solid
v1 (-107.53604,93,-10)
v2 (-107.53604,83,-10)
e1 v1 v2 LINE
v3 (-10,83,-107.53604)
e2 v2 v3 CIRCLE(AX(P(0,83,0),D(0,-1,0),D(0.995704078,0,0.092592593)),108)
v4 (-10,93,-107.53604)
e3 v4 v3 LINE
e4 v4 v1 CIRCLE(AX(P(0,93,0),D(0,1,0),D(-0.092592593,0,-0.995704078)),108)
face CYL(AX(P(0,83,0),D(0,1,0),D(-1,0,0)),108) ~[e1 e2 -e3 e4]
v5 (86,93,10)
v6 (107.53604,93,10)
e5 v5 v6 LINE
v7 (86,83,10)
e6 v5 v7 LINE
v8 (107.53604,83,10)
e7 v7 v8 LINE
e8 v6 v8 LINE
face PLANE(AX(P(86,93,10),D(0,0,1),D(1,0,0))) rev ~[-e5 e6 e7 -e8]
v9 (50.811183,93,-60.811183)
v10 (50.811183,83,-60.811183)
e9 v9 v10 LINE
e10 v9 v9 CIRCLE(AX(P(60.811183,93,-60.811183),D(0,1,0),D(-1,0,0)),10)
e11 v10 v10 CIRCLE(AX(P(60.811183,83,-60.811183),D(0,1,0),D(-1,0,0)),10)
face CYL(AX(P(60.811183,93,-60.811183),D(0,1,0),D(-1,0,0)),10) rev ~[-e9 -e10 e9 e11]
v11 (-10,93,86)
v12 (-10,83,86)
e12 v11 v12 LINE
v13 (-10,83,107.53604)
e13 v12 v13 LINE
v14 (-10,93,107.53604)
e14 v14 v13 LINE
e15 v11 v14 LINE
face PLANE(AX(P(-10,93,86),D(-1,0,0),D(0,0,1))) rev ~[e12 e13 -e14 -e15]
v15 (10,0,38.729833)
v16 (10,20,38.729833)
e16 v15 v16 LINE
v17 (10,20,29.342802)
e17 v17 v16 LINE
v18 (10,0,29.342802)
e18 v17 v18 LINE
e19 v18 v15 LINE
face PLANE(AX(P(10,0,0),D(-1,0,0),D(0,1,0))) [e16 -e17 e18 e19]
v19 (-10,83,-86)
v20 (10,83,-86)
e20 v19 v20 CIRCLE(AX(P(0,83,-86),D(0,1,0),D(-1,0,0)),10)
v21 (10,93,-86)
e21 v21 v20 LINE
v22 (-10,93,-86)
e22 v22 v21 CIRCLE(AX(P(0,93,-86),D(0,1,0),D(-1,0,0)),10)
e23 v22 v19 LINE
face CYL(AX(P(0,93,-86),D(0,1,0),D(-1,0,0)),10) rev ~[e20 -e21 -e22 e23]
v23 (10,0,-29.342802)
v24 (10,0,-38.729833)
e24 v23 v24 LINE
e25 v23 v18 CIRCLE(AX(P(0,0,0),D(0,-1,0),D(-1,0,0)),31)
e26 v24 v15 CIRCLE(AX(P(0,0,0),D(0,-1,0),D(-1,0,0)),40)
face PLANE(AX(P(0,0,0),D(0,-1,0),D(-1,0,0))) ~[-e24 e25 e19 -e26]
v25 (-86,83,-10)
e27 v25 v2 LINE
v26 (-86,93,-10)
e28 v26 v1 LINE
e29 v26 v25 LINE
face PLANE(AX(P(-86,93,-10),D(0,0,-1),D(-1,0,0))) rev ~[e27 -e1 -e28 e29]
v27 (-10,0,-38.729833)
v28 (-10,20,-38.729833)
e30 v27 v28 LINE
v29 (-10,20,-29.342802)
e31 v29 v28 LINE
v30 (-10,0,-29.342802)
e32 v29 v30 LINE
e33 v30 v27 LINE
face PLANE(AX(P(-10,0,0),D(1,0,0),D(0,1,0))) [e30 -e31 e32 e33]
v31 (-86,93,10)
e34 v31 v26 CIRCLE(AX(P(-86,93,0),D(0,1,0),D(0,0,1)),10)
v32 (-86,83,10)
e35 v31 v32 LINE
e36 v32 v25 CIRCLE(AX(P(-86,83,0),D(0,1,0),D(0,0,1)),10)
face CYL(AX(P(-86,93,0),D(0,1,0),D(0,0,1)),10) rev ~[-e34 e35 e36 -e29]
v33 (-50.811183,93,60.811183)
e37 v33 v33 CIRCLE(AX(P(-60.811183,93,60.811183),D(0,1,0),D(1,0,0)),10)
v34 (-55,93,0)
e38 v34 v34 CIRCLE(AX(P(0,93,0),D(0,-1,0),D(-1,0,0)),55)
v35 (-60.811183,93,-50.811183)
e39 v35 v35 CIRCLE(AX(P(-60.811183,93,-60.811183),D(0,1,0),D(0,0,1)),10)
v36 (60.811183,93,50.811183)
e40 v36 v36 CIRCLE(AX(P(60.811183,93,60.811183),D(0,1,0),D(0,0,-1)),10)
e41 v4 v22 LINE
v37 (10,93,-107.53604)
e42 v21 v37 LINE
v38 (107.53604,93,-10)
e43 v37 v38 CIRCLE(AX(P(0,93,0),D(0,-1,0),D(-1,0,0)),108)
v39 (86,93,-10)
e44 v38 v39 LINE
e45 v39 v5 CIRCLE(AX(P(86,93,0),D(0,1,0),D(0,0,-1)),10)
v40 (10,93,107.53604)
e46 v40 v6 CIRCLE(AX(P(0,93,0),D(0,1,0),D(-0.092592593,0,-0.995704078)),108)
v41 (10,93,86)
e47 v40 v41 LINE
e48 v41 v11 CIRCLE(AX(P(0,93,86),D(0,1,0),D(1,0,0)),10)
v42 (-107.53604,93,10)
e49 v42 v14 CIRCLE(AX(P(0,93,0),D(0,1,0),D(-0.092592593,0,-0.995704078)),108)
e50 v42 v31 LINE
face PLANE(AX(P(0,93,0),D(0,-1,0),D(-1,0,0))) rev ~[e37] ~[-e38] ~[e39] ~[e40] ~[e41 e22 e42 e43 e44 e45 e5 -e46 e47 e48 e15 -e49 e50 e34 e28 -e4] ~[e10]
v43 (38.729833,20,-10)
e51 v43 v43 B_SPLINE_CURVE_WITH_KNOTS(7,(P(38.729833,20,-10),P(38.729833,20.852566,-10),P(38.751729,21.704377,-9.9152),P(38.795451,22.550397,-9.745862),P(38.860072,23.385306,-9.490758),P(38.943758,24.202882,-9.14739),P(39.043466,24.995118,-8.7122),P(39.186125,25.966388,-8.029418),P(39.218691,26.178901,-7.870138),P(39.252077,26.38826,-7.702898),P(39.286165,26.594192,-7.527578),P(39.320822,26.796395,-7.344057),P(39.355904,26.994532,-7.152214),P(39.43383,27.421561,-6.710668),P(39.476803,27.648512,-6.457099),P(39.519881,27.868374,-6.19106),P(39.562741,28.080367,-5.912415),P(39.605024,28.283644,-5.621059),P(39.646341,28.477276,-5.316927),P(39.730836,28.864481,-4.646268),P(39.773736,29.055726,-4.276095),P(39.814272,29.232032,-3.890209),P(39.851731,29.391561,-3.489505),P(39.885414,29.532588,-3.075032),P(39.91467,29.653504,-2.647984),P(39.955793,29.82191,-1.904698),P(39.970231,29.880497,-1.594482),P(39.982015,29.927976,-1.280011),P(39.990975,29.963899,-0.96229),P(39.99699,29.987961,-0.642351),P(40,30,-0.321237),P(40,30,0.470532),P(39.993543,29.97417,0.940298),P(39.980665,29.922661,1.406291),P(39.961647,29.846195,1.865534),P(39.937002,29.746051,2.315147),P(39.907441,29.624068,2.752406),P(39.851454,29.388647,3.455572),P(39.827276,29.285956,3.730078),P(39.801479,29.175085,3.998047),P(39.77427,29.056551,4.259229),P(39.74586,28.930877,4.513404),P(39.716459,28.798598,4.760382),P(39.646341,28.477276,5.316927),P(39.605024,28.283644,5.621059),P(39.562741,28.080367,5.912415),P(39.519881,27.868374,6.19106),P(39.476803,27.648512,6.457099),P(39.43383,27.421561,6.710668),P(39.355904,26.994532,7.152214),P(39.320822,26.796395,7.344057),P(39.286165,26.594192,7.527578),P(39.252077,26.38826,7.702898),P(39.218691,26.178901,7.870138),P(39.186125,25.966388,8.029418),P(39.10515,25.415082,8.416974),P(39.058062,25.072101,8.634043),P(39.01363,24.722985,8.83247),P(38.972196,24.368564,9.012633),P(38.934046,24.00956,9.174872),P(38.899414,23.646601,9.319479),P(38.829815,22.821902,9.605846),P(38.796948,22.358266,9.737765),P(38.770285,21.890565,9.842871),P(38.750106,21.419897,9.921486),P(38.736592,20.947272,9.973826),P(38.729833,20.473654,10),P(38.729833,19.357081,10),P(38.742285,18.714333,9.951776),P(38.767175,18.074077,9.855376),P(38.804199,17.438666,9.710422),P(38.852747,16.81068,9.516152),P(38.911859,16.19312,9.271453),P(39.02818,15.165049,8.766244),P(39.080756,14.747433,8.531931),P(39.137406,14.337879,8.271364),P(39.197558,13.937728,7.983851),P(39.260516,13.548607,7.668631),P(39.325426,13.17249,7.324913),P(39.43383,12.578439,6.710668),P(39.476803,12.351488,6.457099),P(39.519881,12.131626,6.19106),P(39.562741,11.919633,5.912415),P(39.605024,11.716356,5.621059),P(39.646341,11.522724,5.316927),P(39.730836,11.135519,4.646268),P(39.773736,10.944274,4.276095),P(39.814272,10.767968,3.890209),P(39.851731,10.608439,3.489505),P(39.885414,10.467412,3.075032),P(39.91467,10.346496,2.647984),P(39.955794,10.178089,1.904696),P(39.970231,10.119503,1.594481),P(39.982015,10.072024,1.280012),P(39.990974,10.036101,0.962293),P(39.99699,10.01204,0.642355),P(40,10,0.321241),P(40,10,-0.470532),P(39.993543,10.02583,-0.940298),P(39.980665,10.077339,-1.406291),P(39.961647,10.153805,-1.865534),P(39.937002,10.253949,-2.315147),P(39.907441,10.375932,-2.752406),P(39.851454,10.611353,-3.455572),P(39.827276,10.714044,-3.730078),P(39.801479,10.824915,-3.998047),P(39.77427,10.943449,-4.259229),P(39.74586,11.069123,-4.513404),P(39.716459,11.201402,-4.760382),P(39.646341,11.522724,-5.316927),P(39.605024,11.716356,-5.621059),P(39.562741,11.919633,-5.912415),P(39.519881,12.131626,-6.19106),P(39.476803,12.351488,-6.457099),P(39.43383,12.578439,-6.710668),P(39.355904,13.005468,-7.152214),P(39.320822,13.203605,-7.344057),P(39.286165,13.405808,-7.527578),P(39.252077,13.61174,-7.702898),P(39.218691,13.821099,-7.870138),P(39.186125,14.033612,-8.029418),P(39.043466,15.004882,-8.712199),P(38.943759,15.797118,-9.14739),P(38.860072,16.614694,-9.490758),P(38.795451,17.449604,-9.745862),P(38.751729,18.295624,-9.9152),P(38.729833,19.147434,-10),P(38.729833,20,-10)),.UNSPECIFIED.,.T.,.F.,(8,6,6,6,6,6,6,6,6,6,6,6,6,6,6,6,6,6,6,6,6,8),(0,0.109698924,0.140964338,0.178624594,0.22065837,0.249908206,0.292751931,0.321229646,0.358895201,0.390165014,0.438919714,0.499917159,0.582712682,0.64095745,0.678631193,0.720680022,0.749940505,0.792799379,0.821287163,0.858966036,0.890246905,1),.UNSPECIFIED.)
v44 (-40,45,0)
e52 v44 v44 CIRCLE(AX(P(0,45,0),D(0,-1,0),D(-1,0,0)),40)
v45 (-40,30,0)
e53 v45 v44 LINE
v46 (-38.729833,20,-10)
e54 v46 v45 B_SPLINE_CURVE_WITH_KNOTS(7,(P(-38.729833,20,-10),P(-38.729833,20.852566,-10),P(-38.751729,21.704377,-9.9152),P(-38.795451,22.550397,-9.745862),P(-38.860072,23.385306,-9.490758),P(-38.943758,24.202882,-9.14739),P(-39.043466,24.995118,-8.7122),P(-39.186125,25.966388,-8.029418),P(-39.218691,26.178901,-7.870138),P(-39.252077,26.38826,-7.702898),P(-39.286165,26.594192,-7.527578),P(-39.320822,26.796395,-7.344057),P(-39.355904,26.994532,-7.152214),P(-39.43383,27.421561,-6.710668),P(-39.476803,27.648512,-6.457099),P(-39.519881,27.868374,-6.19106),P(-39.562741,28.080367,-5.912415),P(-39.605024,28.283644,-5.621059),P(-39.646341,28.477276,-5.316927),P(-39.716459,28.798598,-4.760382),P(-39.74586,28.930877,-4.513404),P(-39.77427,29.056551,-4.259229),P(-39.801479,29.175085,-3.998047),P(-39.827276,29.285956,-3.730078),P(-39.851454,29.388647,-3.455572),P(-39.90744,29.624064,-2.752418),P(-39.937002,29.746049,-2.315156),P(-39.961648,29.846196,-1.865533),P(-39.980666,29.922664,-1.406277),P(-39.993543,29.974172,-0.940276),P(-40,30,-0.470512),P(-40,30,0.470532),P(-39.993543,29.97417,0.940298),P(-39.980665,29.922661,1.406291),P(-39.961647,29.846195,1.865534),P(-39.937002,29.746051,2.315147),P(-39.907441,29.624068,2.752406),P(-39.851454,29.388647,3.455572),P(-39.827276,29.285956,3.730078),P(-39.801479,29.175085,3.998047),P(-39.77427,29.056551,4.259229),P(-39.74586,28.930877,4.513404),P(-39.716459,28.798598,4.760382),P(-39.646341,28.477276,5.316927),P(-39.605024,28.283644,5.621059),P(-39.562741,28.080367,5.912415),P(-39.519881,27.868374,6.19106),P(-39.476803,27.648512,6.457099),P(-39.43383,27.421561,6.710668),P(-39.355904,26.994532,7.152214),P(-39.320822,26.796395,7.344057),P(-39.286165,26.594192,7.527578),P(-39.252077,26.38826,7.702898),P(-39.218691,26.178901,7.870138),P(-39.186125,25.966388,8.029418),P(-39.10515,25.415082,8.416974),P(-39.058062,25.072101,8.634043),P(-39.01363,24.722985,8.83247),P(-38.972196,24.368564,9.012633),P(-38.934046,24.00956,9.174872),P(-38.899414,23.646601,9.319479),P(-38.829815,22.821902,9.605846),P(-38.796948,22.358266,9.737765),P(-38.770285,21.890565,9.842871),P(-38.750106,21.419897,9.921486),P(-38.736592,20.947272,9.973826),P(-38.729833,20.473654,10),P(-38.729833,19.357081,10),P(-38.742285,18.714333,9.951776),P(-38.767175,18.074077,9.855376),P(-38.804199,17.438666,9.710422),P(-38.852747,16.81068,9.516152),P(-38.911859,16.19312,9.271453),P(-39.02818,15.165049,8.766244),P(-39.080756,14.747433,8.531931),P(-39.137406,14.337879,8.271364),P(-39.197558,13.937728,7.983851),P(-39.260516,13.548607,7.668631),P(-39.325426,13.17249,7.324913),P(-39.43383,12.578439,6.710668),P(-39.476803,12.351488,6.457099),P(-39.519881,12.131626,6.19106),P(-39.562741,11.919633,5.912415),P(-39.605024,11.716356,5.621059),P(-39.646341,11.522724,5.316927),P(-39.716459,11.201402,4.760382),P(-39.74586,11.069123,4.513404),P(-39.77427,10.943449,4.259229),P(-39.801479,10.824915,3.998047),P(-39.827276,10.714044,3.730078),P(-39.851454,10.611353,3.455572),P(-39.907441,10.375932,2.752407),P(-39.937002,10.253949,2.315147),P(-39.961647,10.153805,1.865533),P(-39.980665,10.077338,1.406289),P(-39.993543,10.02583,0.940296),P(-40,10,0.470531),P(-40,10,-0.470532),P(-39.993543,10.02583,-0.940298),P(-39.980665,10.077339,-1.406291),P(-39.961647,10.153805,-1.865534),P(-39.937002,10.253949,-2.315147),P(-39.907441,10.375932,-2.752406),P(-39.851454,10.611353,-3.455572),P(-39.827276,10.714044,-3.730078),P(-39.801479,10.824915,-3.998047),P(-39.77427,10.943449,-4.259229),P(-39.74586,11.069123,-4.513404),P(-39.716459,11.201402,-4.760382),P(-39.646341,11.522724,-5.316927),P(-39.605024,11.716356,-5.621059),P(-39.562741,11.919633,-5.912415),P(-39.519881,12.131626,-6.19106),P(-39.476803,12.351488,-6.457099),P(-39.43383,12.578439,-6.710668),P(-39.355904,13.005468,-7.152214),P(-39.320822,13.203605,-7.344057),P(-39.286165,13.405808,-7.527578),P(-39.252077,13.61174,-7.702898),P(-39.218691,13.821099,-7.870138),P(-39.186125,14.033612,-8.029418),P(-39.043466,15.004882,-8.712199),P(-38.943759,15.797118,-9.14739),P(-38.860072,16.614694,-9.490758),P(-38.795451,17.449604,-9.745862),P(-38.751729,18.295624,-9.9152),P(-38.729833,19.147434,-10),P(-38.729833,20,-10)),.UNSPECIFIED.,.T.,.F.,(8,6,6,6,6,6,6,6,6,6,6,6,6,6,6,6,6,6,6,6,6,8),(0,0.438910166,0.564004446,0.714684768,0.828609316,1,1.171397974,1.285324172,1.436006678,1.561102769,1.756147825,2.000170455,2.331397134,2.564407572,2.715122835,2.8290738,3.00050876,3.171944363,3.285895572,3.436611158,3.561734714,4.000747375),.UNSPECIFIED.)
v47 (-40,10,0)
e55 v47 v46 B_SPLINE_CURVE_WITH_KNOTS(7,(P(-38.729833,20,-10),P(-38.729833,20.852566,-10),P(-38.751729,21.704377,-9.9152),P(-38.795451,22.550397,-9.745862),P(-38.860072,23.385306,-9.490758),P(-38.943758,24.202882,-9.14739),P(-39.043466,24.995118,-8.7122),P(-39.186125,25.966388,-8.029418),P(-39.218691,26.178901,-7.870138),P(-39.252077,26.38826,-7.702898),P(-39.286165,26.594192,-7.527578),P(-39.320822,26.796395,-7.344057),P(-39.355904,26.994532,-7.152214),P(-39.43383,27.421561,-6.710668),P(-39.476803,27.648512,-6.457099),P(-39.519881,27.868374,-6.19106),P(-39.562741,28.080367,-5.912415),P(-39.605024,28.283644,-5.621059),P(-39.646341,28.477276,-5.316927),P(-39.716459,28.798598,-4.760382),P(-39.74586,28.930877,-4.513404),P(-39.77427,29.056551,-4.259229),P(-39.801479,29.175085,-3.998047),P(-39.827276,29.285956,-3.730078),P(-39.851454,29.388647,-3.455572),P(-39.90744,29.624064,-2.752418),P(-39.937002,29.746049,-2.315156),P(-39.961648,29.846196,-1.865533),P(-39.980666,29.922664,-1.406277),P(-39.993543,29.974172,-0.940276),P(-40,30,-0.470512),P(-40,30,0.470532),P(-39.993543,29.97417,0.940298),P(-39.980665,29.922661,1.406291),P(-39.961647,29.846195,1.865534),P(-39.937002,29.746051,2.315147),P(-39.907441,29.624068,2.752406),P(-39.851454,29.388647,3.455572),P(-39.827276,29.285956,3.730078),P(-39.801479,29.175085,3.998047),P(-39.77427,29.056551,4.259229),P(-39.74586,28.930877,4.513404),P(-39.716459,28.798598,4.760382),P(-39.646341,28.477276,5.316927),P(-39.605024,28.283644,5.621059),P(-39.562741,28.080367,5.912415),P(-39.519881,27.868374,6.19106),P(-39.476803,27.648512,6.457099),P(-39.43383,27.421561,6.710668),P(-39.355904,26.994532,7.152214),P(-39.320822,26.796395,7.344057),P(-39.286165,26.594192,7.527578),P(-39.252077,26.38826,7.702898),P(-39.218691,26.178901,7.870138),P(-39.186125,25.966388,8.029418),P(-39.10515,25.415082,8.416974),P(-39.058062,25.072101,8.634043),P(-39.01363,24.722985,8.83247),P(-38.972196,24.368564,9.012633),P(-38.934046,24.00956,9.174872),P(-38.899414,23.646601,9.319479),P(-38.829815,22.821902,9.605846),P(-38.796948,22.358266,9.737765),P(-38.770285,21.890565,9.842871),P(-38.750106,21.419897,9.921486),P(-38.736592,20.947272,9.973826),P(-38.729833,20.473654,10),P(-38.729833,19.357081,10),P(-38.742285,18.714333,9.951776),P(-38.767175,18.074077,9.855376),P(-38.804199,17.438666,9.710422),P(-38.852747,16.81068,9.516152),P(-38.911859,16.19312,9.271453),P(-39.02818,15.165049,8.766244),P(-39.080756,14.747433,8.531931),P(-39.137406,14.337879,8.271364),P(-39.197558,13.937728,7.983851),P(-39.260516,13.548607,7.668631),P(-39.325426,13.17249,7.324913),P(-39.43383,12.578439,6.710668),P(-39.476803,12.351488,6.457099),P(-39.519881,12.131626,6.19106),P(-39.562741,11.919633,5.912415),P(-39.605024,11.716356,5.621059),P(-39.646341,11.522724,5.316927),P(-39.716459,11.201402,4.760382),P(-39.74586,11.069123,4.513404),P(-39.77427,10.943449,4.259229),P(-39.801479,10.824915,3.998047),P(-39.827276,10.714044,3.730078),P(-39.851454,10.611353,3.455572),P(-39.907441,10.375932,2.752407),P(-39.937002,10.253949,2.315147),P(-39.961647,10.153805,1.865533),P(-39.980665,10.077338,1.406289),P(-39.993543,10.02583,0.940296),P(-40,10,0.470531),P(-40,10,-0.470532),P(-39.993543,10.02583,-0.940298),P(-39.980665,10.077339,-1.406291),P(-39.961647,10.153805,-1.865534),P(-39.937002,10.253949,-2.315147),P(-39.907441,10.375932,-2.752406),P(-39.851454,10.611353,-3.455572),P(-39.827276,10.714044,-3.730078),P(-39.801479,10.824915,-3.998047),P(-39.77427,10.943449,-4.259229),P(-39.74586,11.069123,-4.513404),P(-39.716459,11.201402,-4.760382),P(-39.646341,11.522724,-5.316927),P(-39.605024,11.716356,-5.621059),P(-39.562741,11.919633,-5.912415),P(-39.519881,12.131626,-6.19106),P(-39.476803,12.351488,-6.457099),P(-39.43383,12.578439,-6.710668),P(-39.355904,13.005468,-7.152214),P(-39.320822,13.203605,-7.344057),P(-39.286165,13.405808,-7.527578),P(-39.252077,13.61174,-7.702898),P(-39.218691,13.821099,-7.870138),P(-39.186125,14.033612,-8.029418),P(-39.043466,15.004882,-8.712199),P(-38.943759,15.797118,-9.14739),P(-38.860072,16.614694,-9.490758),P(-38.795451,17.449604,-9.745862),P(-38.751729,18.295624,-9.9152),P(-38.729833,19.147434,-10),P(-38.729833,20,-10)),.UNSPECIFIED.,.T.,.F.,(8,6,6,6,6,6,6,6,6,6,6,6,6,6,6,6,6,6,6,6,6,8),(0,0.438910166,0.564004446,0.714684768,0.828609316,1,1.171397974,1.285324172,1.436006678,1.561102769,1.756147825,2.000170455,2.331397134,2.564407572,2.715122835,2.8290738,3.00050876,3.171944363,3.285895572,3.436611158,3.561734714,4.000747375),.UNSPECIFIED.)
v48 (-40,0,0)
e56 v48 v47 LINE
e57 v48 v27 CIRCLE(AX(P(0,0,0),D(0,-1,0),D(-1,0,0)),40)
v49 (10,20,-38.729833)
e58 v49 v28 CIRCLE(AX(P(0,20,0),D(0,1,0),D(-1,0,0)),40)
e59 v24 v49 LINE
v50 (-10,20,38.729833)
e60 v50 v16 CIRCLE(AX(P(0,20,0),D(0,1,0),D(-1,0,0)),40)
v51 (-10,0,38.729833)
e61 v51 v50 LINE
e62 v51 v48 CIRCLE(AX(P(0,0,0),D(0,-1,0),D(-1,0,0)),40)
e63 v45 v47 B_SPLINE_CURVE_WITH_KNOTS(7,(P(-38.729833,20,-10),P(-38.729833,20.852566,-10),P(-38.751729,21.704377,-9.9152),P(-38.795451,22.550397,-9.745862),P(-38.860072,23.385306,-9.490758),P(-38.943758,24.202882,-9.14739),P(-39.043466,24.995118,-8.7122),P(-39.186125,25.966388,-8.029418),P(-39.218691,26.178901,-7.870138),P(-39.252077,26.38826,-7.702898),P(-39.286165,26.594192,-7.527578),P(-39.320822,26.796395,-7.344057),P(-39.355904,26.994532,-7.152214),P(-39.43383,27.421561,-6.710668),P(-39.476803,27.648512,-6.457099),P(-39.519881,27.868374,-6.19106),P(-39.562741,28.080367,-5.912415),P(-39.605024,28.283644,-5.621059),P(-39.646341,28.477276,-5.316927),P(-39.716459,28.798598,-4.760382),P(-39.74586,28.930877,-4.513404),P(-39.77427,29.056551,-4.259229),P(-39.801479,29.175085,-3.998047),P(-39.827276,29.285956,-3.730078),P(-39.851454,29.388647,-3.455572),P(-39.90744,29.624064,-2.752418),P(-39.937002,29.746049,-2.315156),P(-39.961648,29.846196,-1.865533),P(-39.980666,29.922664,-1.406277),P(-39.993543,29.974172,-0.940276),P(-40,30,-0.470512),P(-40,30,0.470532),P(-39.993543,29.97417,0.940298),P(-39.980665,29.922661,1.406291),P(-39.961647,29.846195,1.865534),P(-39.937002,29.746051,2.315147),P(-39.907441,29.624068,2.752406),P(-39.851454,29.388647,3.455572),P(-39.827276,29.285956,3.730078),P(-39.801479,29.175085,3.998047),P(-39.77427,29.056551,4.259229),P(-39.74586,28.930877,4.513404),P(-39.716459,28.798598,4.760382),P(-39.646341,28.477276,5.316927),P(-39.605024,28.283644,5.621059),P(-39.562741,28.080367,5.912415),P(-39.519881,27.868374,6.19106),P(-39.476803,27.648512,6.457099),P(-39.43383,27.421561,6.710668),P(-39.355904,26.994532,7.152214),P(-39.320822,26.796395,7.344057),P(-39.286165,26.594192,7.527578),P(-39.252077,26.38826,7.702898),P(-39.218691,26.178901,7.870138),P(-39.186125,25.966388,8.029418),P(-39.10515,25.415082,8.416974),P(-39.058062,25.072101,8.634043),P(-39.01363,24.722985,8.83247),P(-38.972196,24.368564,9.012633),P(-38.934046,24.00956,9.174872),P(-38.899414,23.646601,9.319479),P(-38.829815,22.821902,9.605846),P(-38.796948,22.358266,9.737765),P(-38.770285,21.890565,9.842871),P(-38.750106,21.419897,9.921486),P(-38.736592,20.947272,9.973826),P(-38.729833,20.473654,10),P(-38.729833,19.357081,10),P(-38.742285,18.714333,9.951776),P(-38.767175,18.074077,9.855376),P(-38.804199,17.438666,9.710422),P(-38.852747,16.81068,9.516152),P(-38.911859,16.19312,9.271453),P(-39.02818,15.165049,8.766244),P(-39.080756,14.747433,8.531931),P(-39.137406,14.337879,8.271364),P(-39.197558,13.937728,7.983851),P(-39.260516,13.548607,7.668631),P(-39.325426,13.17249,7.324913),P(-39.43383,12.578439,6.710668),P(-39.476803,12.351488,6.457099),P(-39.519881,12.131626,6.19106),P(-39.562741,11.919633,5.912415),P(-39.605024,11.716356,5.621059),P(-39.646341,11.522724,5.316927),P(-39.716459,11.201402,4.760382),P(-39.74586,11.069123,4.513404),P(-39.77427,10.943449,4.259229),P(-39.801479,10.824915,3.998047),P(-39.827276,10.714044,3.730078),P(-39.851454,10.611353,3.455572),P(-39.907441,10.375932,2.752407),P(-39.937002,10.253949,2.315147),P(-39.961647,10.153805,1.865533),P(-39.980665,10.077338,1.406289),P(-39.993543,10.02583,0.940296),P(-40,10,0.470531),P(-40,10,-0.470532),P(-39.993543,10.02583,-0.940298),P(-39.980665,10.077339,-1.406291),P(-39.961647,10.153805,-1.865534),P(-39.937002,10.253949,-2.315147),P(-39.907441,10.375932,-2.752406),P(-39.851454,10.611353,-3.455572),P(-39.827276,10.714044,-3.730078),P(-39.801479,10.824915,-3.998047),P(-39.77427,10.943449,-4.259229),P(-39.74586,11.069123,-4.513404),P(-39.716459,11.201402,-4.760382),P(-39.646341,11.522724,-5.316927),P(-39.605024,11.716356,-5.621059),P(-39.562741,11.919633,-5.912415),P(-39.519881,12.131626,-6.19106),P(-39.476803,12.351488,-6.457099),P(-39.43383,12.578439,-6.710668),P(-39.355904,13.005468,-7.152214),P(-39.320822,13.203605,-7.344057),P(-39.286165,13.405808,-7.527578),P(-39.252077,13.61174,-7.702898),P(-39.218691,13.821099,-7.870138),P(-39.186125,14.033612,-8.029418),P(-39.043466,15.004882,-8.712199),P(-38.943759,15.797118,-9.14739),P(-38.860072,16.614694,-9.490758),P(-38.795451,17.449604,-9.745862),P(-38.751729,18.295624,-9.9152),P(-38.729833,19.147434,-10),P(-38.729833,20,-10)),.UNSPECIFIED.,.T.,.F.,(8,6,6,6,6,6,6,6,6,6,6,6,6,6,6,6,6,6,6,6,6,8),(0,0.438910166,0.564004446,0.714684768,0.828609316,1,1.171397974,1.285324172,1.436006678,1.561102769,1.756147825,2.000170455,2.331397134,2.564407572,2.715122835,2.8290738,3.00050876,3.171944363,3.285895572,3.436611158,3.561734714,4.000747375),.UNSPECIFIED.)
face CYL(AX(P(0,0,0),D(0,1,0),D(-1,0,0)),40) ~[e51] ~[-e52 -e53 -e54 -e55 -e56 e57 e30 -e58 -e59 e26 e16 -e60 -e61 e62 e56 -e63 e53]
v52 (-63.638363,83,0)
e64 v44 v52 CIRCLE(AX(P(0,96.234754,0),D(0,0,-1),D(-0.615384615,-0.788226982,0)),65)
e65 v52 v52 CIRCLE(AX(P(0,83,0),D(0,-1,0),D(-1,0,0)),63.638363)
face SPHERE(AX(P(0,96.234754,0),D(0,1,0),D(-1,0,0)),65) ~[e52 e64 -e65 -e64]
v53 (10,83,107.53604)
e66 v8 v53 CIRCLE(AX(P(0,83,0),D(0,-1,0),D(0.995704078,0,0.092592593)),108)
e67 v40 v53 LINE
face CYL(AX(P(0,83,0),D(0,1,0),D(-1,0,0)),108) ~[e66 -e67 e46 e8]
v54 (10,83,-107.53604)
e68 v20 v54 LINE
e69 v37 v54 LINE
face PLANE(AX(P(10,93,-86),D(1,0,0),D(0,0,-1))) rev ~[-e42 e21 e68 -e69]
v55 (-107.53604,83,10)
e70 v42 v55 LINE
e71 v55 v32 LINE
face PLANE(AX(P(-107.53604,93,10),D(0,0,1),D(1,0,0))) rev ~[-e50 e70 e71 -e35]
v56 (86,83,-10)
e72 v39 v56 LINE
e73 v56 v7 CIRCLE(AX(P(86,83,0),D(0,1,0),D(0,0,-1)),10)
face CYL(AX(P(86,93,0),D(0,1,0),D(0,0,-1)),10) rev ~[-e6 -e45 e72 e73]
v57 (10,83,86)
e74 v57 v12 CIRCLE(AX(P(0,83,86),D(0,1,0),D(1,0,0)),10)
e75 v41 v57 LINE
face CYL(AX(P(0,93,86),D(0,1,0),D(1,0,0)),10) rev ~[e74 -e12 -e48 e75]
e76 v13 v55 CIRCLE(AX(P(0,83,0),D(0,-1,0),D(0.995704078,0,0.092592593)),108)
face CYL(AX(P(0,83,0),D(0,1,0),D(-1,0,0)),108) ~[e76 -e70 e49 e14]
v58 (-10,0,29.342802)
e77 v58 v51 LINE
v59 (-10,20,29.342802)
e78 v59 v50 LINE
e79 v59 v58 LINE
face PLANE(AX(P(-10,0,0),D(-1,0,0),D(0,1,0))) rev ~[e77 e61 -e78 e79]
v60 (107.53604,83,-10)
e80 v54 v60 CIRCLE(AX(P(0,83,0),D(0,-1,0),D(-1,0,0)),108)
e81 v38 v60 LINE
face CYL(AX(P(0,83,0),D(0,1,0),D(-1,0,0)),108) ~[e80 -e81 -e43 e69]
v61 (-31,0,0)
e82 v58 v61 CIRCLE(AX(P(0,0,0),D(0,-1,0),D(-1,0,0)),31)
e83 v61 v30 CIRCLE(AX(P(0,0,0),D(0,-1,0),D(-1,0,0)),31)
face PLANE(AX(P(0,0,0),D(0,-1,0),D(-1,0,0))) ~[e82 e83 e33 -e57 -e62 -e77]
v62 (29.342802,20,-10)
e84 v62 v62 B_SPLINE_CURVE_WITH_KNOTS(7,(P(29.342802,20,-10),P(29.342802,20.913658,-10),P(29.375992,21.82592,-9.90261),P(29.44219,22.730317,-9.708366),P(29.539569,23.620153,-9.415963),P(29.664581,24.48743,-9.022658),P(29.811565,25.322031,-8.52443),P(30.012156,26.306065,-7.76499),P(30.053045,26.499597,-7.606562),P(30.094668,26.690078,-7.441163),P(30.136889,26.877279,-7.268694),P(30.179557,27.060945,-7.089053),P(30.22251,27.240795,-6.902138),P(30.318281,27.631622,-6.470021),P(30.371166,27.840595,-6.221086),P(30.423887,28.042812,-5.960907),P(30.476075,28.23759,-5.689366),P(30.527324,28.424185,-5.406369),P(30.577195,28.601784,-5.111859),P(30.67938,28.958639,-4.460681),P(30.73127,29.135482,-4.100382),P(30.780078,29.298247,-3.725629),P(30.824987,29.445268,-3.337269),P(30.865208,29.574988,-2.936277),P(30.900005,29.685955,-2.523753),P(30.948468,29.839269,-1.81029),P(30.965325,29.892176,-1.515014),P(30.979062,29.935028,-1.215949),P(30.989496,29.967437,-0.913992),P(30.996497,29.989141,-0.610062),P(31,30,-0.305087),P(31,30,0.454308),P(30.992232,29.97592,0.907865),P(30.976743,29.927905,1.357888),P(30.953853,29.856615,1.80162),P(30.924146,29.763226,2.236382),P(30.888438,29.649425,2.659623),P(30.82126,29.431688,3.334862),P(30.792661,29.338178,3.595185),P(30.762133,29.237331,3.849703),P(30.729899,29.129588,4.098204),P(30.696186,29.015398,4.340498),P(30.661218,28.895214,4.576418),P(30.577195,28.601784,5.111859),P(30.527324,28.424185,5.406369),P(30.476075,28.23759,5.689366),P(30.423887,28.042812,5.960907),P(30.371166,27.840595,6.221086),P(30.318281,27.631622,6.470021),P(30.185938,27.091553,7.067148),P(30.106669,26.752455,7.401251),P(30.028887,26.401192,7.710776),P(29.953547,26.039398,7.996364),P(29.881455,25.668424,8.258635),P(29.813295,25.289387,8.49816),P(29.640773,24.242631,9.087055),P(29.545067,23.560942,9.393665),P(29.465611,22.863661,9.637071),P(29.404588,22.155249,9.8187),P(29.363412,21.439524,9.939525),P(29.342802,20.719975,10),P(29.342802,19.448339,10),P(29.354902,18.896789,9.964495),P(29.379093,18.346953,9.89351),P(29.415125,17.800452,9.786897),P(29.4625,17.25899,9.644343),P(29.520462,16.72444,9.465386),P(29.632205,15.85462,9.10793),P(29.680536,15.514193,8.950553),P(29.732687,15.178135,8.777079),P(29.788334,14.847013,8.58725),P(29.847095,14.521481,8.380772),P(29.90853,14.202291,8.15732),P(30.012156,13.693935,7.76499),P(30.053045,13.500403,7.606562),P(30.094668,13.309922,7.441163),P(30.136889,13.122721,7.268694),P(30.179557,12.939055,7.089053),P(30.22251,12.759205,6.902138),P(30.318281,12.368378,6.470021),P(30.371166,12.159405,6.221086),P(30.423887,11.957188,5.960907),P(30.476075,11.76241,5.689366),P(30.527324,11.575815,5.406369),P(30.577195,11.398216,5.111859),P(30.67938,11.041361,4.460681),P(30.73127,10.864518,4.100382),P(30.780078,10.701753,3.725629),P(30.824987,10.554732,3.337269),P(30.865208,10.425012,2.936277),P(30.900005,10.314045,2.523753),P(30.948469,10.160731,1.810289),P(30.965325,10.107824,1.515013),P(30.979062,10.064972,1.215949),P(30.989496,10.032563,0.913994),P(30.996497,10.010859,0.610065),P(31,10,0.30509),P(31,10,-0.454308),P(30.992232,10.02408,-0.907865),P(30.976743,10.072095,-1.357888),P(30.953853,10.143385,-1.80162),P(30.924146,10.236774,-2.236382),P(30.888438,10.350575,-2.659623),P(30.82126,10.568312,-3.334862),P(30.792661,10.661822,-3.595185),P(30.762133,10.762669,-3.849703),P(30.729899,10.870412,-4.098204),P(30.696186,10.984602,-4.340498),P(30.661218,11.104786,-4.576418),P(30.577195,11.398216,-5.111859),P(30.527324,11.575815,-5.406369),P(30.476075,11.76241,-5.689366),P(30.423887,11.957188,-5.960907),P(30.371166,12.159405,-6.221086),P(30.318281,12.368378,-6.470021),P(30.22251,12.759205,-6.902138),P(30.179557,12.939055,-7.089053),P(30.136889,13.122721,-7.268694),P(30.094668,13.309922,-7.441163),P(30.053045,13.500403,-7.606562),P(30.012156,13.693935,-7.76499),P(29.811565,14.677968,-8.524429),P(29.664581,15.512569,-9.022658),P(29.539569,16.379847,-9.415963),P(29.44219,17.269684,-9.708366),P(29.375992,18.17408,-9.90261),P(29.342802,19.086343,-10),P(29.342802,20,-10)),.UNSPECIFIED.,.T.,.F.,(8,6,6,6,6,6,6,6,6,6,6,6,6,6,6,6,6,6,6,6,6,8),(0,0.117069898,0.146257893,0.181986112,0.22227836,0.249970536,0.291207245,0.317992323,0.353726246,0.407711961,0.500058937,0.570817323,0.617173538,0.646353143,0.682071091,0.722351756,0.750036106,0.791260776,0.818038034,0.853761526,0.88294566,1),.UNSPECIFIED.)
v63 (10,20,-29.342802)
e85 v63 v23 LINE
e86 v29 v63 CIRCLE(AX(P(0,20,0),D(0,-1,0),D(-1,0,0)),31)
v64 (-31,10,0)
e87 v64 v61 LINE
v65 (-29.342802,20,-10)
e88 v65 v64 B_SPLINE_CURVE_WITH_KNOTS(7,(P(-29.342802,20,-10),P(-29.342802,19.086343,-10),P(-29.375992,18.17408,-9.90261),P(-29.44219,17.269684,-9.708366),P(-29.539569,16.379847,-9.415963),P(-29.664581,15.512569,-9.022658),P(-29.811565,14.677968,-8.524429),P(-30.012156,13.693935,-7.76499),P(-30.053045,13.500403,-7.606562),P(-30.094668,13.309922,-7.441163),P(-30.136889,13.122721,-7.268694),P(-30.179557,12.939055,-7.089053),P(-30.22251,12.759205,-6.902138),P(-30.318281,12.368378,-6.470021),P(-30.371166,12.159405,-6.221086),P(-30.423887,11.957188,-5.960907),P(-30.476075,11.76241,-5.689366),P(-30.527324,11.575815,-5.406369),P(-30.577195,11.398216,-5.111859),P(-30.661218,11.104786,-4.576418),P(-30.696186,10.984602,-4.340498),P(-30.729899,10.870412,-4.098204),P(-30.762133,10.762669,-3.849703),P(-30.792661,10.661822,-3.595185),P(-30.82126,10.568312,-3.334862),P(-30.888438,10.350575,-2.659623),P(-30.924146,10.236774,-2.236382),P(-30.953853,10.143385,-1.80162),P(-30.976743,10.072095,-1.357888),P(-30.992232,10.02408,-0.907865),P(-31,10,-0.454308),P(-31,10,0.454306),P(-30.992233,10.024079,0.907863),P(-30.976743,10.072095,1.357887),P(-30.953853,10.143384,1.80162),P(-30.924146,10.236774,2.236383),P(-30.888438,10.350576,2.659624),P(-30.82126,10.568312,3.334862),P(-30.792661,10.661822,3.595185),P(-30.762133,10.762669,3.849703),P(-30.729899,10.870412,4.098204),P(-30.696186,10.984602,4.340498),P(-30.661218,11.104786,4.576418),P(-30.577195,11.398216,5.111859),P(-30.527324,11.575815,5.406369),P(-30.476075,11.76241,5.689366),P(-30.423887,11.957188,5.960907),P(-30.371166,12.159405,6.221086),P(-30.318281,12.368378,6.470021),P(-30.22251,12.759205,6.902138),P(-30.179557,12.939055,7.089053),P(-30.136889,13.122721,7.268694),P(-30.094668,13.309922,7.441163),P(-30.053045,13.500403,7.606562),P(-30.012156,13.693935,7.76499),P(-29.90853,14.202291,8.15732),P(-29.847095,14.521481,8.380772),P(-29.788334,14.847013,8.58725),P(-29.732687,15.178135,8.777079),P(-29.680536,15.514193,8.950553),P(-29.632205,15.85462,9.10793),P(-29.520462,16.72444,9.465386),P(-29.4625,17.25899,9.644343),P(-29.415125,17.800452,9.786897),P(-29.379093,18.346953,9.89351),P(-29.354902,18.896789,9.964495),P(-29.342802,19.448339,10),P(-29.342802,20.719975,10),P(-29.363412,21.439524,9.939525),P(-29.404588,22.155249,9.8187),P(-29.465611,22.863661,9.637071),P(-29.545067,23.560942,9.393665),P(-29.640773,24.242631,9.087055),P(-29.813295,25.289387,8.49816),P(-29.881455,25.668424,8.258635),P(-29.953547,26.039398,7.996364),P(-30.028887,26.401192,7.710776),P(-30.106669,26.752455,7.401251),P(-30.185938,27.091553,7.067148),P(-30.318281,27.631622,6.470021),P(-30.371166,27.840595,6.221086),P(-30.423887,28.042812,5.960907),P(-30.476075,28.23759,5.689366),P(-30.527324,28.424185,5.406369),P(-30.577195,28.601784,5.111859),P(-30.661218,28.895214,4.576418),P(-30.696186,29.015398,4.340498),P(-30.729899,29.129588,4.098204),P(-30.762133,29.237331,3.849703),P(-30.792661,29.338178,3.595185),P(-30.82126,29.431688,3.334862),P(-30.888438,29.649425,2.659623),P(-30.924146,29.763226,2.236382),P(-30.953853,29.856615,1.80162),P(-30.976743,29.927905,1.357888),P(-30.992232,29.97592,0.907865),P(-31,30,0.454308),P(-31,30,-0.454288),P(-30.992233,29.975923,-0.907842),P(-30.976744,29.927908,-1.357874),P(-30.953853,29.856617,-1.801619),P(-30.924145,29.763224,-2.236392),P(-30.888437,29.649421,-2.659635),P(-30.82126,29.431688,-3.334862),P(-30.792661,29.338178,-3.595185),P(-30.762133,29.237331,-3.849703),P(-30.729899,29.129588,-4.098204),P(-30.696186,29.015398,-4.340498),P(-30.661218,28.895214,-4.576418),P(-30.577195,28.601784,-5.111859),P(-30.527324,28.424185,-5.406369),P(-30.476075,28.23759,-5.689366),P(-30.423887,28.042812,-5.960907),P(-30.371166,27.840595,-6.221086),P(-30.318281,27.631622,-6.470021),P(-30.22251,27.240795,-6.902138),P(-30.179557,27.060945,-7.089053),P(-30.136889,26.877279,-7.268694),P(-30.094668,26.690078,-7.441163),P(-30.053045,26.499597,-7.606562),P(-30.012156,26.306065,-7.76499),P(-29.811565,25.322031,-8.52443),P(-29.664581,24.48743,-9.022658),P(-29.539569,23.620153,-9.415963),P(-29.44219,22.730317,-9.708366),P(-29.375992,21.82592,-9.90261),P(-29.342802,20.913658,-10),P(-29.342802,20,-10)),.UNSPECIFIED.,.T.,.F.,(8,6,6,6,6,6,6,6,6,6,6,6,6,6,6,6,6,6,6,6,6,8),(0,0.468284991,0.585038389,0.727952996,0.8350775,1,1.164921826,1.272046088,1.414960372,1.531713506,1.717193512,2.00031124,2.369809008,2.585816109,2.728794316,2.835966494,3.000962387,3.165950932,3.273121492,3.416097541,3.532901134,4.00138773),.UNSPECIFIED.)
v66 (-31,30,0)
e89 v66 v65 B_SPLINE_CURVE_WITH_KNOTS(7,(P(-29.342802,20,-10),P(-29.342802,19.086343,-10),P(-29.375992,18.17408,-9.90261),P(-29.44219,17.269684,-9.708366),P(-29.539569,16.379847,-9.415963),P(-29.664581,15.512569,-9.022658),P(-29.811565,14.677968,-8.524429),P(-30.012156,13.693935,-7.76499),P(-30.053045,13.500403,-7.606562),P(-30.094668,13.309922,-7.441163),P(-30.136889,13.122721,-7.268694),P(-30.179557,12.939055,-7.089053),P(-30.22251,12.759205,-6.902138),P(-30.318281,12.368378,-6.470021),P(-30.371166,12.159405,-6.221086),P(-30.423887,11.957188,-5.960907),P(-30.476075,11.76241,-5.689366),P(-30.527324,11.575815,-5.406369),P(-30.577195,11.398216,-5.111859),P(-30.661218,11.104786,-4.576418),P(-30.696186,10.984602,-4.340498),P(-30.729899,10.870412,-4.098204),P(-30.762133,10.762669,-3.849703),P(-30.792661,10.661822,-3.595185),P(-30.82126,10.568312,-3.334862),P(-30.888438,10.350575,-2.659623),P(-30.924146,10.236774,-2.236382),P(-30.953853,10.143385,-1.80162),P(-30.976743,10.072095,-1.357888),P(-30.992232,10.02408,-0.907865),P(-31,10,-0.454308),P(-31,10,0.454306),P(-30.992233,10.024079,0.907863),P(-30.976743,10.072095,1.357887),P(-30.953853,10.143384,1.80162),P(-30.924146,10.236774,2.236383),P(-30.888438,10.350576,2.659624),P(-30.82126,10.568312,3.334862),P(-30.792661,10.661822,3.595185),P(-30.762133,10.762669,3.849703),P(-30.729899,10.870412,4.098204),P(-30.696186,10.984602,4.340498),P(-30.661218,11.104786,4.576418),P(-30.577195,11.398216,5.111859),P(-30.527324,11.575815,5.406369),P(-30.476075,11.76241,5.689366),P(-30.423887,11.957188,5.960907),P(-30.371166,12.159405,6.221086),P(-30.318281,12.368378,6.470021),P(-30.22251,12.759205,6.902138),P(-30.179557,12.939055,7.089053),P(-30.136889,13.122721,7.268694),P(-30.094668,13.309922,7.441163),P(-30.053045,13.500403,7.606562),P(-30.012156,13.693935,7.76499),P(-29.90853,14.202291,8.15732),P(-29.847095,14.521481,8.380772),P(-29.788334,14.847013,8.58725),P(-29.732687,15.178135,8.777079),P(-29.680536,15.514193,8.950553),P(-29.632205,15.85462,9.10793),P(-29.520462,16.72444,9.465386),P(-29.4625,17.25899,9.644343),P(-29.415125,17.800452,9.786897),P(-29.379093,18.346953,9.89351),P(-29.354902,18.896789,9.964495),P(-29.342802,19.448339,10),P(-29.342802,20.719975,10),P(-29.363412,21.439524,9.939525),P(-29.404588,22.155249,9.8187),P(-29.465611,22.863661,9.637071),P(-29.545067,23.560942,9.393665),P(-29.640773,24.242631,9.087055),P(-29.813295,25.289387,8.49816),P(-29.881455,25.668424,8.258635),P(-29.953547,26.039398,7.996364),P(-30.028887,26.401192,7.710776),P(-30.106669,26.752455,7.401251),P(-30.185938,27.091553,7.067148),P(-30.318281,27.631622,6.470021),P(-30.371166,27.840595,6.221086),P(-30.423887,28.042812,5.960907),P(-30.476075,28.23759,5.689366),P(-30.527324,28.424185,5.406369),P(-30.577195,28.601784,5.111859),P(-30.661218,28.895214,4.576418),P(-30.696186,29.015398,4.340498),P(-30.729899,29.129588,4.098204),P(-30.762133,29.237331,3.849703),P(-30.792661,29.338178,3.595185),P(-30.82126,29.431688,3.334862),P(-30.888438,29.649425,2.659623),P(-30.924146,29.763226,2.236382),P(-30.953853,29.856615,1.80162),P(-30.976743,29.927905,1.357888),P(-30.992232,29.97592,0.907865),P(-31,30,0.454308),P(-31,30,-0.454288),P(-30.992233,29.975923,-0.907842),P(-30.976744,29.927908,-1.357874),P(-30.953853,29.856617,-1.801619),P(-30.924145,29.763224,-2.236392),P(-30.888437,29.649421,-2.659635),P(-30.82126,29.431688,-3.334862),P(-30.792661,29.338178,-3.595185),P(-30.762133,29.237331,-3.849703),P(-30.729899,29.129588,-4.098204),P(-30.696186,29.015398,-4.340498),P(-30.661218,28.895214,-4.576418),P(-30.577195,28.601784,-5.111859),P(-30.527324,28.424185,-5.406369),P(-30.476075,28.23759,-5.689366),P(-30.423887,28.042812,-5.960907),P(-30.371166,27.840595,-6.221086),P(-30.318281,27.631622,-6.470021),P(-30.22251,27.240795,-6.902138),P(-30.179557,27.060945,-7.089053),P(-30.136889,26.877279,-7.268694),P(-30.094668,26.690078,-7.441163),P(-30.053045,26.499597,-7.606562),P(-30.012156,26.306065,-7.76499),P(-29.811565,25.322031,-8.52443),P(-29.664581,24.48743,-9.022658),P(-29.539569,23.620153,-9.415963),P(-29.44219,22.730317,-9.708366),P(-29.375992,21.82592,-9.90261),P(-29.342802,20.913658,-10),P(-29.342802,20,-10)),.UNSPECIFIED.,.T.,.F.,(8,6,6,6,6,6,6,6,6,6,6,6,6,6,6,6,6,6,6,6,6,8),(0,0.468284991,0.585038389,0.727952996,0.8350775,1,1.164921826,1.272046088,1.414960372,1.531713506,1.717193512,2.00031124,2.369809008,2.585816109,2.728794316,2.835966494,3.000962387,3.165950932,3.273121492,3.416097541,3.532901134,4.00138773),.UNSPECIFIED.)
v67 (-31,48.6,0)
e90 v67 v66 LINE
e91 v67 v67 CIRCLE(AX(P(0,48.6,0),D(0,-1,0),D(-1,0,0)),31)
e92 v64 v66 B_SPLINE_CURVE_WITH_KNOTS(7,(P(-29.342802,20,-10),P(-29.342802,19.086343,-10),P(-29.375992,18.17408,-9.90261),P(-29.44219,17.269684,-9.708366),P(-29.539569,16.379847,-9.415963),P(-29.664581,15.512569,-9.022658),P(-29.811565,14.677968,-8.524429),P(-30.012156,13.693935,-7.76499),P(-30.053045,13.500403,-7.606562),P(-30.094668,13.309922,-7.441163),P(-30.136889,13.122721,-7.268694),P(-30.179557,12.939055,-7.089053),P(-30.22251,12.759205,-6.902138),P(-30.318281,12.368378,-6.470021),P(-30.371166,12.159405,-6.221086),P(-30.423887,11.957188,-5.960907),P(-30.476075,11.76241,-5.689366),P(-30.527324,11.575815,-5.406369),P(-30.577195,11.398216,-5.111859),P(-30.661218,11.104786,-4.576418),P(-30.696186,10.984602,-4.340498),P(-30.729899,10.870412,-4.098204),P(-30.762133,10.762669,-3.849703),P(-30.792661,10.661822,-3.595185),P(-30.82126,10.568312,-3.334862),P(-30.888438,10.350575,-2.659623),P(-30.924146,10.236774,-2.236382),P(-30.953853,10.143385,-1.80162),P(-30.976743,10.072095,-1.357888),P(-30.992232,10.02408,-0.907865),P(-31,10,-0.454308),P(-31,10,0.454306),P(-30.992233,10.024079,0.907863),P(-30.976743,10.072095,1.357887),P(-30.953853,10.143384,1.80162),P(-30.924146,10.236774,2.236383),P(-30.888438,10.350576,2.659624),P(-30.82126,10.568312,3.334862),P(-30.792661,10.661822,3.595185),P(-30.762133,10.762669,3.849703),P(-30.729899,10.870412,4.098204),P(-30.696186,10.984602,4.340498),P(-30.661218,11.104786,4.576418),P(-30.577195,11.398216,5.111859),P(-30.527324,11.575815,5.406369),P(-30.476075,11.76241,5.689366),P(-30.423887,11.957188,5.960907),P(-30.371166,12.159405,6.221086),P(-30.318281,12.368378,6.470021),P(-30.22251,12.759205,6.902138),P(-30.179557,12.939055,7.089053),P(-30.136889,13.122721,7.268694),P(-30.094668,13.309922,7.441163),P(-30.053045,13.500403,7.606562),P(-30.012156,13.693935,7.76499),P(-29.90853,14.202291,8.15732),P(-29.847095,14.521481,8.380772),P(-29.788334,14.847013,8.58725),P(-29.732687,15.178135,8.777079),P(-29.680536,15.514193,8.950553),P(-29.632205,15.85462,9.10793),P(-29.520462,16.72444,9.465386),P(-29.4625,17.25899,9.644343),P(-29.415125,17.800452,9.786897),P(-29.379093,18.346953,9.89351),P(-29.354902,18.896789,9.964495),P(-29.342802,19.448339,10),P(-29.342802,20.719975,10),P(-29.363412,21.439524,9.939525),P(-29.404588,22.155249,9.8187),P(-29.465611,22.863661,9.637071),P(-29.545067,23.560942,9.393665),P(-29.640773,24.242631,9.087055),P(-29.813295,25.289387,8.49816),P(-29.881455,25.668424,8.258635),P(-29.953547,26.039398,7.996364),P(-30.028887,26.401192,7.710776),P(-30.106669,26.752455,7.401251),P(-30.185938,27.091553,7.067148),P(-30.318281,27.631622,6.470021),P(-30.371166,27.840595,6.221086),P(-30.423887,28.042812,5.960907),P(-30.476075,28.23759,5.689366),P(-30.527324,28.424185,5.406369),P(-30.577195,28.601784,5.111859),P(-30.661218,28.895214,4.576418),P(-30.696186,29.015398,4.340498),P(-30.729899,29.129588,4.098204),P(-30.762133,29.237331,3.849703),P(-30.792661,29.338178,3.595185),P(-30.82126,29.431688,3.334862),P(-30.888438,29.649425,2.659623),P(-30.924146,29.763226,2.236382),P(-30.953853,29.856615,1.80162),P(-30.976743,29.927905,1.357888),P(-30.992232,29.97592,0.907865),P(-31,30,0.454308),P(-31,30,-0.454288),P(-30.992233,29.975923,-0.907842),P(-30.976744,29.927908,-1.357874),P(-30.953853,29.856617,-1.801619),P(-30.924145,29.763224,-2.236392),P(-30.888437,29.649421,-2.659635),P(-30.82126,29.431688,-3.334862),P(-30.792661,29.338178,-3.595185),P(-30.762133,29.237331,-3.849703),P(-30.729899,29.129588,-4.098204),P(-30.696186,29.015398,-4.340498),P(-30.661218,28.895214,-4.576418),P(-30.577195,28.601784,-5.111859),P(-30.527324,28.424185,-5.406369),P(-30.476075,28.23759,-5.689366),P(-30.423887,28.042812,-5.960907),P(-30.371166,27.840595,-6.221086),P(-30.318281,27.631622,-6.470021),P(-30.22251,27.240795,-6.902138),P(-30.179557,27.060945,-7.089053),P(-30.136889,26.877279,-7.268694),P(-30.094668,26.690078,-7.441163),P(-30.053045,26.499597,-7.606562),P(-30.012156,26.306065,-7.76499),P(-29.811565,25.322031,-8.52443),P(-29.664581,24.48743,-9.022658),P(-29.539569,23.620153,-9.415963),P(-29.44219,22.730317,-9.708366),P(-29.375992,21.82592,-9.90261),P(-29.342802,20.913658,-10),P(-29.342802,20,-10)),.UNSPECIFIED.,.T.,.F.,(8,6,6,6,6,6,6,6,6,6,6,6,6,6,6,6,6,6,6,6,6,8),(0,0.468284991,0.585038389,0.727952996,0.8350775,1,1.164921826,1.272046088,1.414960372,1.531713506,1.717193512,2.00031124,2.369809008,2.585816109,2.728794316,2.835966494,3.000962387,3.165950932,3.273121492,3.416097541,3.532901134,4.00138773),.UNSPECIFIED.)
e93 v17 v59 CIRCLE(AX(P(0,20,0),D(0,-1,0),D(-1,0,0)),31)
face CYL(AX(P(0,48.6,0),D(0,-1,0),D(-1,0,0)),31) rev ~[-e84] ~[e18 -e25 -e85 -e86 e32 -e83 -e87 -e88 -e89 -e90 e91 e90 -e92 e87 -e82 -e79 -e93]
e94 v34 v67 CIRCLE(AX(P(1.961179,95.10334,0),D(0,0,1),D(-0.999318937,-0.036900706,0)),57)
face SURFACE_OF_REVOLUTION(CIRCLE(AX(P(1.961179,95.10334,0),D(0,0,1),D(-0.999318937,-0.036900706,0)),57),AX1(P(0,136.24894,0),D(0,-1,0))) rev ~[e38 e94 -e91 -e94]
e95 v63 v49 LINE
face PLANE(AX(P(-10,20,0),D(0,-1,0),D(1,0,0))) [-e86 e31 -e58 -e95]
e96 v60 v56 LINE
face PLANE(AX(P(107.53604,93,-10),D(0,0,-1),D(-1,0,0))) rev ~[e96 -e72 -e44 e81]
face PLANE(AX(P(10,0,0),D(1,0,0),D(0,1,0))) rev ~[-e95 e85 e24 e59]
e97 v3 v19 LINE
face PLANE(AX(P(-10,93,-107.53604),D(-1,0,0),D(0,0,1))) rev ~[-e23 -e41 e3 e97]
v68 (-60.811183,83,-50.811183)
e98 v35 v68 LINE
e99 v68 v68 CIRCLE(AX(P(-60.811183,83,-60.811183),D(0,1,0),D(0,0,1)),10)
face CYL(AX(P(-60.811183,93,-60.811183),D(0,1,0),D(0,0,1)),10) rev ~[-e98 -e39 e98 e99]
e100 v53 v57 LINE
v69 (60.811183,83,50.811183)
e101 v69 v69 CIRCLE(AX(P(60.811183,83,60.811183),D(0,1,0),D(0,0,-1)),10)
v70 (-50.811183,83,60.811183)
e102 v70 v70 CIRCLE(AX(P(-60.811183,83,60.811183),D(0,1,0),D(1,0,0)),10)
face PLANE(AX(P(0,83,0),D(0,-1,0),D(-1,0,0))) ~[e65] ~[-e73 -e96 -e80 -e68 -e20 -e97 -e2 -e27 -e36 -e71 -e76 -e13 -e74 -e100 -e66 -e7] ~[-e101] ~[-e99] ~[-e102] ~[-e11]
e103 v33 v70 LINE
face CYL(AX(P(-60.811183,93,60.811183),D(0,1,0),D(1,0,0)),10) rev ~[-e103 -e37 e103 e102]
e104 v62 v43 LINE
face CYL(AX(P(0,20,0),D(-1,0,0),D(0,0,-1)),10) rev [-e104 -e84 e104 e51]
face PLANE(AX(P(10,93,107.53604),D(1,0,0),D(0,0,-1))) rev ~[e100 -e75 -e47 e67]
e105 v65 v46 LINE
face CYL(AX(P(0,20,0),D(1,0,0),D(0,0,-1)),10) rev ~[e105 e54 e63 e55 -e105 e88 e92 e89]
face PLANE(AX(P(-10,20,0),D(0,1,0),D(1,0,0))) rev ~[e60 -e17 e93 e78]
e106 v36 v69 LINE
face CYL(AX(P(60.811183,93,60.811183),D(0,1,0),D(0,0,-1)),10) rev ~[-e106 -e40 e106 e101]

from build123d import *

# Parameters (mm, degrees)
SCHIZZO2_R                           = 10
TAGLIO_ESTRUSIONE2_DEPTH             = 10
RIPETIZIONECIRCOLARE2_COUNT          = 4
TAGLIO_ESTRUSIONE3_REACH             = 180.261
SCHIZZO4_R                           = 10
TAGLIO_ESTRUSIONE3_DIRECTION_2_REACH = 180.261
TAGLIO_ESTRUSIONE4_REACH             = 180.261
SCHIZZO5_W                           = 20
SCHIZZO5_H                           = 20
TAGLIO_ESTRUSIONE4_DIRECTION_2_REACH = 180.261


with BuildPart() as part:
    # Schizzo1 → Rivoluzione1 (revolve)
    with BuildSketch(Plane.XY, mode=Mode.PRIVATE) as rivoluzione1_sk:
        with BuildLine():
            Line((31, 0), (40, 0))
            Line((40, 0), (40, 45))
            ThreePointArc((40, 45), (55.192640723, 61.901498667), (63.638363359, 83))
            Line((63.638363359, 83), (108, 83))
            Line((108, 83), (108, 93))
            Line((108, 93), (55, 93))
            ThreePointArc((55, 93), (48.182091863, 67.998869263), (31, 48.6))
            Line((31, 48.6), (31, 0))
        make_face()
    revolve(rivoluzione1_sk.sketch.rotate(Axis((0, 136.24893985, 0), (0, -1, 0)), 180), axis=Axis((0, 136.24893985, 0), (0, -1, 0)))

    # Schizzo2 → Taglio-Estrusione2 (cut)
    with BuildSketch(Plane(origin=(0, 93, 0), x_dir=(1, 0, 0), z_dir=(0, 1, 0))):
        with Locations(Location((60.811183182, 60.811183182, 0), (0, 0, 180))):
            Circle(SCHIZZO2_R)
        with BuildLine():
            Line((107.53604047, 10), (86, 10))
            ThreePointArc((86, 10), (76, 0), (86, -10))
            Line((86, -10), (107.53604047, -10))
            ThreePointArc((107.53604047, -10), (108, 0), (107.53604047, 10))
        make_face()
    taglio_estrusione2 = extrude(amount=-TAGLIO_ESTRUSIONE2_DEPTH, mode=Mode.SUBTRACT)

    # RipetizioneCircolare2: Taglio-Estrusione2 ×4 about axis
    ripetizionecircolare2_axis = Axis((0, 0, 0), (0, 1, 0))
    for i in range(1, RIPETIZIONECIRCOLARE2_COUNT):
        add(taglio_estrusione2.rotate(ripetizionecircolare2_axis, i * 360 / RIPETIZIONECIRCOLARE2_COUNT), mode=Mode.SUBTRACT)

    # Schizzo4 → Taglio-Estrusione3 (cut, up to next)
    with BuildSketch(Plane(origin=(0, 0, 0), x_dir=(0, 0, -1), z_dir=(1, 0, 0)), mode=Mode.PRIVATE) as taglio_estrusione3_sk1:
        with Locations((0, 20)):
            Circle(SCHIZZO4_R)
    taglio_estrusione3_tool1 = extrude(taglio_estrusione3_sk1.sketch, amount=-TAGLIO_ESTRUSIONE3_REACH, mode=Mode.PRIVATE) & part.part
    add(taglio_estrusione3_tool1.solids().sort_by_distance((0, 20, 0))[0], mode=Mode.SUBTRACT)

    # Schizzo4 → Taglio-Estrusione3 direction 2 (cut, up to next)
    with BuildSketch(Plane(origin=(0, 0, 0), x_dir=(0, 0, -1), z_dir=(1, 0, 0)), mode=Mode.PRIVATE) as taglio_estrusione3_direction_2_sk1:
        with Locations((0, 20)):
            Circle(SCHIZZO4_R)
    taglio_estrusione3_direction_2_tool1 = extrude(taglio_estrusione3_direction_2_sk1.sketch, amount=TAGLIO_ESTRUSIONE3_DIRECTION_2_REACH, mode=Mode.PRIVATE) & part.part
    add(taglio_estrusione3_direction_2_tool1.solids().sort_by_distance((0, 20, 0))[0], mode=Mode.SUBTRACT)

    # Schizzo5 → Taglio-Estrusione4 (cut, up to next)
    with BuildSketch(Plane.XY, mode=Mode.PRIVATE) as taglio_estrusione4_sk1:
        with Locations((0, 10)):
            Rectangle(SCHIZZO5_W, SCHIZZO5_H)
    taglio_estrusione4_tool1 = extrude(taglio_estrusione4_sk1.sketch, amount=-TAGLIO_ESTRUSIONE4_REACH, mode=Mode.PRIVATE) & part.part
    add(taglio_estrusione4_tool1.solids().sort_by_distance((0, 10, 0))[0], mode=Mode.SUBTRACT)

    # Schizzo5 → Taglio-Estrusione4 direction 2 (cut, up to next)
    with BuildSketch(Plane.XY, mode=Mode.PRIVATE) as taglio_estrusione4_direction_2_sk1:
        with Locations((0, 10)):
            Rectangle(SCHIZZO5_W, SCHIZZO5_H)
    taglio_estrusione4_direction_2_tool1 = extrude(taglio_estrusione4_direction_2_sk1.sketch, amount=TAGLIO_ESTRUSIONE4_DIRECTION_2_REACH, mode=Mode.PRIVATE) & part.part
    add(taglio_estrusione4_direction_2_tool1.solids().sort_by_distance((0, 10, 0))[0], mode=Mode.SUBTRACT)


solid = part.part
